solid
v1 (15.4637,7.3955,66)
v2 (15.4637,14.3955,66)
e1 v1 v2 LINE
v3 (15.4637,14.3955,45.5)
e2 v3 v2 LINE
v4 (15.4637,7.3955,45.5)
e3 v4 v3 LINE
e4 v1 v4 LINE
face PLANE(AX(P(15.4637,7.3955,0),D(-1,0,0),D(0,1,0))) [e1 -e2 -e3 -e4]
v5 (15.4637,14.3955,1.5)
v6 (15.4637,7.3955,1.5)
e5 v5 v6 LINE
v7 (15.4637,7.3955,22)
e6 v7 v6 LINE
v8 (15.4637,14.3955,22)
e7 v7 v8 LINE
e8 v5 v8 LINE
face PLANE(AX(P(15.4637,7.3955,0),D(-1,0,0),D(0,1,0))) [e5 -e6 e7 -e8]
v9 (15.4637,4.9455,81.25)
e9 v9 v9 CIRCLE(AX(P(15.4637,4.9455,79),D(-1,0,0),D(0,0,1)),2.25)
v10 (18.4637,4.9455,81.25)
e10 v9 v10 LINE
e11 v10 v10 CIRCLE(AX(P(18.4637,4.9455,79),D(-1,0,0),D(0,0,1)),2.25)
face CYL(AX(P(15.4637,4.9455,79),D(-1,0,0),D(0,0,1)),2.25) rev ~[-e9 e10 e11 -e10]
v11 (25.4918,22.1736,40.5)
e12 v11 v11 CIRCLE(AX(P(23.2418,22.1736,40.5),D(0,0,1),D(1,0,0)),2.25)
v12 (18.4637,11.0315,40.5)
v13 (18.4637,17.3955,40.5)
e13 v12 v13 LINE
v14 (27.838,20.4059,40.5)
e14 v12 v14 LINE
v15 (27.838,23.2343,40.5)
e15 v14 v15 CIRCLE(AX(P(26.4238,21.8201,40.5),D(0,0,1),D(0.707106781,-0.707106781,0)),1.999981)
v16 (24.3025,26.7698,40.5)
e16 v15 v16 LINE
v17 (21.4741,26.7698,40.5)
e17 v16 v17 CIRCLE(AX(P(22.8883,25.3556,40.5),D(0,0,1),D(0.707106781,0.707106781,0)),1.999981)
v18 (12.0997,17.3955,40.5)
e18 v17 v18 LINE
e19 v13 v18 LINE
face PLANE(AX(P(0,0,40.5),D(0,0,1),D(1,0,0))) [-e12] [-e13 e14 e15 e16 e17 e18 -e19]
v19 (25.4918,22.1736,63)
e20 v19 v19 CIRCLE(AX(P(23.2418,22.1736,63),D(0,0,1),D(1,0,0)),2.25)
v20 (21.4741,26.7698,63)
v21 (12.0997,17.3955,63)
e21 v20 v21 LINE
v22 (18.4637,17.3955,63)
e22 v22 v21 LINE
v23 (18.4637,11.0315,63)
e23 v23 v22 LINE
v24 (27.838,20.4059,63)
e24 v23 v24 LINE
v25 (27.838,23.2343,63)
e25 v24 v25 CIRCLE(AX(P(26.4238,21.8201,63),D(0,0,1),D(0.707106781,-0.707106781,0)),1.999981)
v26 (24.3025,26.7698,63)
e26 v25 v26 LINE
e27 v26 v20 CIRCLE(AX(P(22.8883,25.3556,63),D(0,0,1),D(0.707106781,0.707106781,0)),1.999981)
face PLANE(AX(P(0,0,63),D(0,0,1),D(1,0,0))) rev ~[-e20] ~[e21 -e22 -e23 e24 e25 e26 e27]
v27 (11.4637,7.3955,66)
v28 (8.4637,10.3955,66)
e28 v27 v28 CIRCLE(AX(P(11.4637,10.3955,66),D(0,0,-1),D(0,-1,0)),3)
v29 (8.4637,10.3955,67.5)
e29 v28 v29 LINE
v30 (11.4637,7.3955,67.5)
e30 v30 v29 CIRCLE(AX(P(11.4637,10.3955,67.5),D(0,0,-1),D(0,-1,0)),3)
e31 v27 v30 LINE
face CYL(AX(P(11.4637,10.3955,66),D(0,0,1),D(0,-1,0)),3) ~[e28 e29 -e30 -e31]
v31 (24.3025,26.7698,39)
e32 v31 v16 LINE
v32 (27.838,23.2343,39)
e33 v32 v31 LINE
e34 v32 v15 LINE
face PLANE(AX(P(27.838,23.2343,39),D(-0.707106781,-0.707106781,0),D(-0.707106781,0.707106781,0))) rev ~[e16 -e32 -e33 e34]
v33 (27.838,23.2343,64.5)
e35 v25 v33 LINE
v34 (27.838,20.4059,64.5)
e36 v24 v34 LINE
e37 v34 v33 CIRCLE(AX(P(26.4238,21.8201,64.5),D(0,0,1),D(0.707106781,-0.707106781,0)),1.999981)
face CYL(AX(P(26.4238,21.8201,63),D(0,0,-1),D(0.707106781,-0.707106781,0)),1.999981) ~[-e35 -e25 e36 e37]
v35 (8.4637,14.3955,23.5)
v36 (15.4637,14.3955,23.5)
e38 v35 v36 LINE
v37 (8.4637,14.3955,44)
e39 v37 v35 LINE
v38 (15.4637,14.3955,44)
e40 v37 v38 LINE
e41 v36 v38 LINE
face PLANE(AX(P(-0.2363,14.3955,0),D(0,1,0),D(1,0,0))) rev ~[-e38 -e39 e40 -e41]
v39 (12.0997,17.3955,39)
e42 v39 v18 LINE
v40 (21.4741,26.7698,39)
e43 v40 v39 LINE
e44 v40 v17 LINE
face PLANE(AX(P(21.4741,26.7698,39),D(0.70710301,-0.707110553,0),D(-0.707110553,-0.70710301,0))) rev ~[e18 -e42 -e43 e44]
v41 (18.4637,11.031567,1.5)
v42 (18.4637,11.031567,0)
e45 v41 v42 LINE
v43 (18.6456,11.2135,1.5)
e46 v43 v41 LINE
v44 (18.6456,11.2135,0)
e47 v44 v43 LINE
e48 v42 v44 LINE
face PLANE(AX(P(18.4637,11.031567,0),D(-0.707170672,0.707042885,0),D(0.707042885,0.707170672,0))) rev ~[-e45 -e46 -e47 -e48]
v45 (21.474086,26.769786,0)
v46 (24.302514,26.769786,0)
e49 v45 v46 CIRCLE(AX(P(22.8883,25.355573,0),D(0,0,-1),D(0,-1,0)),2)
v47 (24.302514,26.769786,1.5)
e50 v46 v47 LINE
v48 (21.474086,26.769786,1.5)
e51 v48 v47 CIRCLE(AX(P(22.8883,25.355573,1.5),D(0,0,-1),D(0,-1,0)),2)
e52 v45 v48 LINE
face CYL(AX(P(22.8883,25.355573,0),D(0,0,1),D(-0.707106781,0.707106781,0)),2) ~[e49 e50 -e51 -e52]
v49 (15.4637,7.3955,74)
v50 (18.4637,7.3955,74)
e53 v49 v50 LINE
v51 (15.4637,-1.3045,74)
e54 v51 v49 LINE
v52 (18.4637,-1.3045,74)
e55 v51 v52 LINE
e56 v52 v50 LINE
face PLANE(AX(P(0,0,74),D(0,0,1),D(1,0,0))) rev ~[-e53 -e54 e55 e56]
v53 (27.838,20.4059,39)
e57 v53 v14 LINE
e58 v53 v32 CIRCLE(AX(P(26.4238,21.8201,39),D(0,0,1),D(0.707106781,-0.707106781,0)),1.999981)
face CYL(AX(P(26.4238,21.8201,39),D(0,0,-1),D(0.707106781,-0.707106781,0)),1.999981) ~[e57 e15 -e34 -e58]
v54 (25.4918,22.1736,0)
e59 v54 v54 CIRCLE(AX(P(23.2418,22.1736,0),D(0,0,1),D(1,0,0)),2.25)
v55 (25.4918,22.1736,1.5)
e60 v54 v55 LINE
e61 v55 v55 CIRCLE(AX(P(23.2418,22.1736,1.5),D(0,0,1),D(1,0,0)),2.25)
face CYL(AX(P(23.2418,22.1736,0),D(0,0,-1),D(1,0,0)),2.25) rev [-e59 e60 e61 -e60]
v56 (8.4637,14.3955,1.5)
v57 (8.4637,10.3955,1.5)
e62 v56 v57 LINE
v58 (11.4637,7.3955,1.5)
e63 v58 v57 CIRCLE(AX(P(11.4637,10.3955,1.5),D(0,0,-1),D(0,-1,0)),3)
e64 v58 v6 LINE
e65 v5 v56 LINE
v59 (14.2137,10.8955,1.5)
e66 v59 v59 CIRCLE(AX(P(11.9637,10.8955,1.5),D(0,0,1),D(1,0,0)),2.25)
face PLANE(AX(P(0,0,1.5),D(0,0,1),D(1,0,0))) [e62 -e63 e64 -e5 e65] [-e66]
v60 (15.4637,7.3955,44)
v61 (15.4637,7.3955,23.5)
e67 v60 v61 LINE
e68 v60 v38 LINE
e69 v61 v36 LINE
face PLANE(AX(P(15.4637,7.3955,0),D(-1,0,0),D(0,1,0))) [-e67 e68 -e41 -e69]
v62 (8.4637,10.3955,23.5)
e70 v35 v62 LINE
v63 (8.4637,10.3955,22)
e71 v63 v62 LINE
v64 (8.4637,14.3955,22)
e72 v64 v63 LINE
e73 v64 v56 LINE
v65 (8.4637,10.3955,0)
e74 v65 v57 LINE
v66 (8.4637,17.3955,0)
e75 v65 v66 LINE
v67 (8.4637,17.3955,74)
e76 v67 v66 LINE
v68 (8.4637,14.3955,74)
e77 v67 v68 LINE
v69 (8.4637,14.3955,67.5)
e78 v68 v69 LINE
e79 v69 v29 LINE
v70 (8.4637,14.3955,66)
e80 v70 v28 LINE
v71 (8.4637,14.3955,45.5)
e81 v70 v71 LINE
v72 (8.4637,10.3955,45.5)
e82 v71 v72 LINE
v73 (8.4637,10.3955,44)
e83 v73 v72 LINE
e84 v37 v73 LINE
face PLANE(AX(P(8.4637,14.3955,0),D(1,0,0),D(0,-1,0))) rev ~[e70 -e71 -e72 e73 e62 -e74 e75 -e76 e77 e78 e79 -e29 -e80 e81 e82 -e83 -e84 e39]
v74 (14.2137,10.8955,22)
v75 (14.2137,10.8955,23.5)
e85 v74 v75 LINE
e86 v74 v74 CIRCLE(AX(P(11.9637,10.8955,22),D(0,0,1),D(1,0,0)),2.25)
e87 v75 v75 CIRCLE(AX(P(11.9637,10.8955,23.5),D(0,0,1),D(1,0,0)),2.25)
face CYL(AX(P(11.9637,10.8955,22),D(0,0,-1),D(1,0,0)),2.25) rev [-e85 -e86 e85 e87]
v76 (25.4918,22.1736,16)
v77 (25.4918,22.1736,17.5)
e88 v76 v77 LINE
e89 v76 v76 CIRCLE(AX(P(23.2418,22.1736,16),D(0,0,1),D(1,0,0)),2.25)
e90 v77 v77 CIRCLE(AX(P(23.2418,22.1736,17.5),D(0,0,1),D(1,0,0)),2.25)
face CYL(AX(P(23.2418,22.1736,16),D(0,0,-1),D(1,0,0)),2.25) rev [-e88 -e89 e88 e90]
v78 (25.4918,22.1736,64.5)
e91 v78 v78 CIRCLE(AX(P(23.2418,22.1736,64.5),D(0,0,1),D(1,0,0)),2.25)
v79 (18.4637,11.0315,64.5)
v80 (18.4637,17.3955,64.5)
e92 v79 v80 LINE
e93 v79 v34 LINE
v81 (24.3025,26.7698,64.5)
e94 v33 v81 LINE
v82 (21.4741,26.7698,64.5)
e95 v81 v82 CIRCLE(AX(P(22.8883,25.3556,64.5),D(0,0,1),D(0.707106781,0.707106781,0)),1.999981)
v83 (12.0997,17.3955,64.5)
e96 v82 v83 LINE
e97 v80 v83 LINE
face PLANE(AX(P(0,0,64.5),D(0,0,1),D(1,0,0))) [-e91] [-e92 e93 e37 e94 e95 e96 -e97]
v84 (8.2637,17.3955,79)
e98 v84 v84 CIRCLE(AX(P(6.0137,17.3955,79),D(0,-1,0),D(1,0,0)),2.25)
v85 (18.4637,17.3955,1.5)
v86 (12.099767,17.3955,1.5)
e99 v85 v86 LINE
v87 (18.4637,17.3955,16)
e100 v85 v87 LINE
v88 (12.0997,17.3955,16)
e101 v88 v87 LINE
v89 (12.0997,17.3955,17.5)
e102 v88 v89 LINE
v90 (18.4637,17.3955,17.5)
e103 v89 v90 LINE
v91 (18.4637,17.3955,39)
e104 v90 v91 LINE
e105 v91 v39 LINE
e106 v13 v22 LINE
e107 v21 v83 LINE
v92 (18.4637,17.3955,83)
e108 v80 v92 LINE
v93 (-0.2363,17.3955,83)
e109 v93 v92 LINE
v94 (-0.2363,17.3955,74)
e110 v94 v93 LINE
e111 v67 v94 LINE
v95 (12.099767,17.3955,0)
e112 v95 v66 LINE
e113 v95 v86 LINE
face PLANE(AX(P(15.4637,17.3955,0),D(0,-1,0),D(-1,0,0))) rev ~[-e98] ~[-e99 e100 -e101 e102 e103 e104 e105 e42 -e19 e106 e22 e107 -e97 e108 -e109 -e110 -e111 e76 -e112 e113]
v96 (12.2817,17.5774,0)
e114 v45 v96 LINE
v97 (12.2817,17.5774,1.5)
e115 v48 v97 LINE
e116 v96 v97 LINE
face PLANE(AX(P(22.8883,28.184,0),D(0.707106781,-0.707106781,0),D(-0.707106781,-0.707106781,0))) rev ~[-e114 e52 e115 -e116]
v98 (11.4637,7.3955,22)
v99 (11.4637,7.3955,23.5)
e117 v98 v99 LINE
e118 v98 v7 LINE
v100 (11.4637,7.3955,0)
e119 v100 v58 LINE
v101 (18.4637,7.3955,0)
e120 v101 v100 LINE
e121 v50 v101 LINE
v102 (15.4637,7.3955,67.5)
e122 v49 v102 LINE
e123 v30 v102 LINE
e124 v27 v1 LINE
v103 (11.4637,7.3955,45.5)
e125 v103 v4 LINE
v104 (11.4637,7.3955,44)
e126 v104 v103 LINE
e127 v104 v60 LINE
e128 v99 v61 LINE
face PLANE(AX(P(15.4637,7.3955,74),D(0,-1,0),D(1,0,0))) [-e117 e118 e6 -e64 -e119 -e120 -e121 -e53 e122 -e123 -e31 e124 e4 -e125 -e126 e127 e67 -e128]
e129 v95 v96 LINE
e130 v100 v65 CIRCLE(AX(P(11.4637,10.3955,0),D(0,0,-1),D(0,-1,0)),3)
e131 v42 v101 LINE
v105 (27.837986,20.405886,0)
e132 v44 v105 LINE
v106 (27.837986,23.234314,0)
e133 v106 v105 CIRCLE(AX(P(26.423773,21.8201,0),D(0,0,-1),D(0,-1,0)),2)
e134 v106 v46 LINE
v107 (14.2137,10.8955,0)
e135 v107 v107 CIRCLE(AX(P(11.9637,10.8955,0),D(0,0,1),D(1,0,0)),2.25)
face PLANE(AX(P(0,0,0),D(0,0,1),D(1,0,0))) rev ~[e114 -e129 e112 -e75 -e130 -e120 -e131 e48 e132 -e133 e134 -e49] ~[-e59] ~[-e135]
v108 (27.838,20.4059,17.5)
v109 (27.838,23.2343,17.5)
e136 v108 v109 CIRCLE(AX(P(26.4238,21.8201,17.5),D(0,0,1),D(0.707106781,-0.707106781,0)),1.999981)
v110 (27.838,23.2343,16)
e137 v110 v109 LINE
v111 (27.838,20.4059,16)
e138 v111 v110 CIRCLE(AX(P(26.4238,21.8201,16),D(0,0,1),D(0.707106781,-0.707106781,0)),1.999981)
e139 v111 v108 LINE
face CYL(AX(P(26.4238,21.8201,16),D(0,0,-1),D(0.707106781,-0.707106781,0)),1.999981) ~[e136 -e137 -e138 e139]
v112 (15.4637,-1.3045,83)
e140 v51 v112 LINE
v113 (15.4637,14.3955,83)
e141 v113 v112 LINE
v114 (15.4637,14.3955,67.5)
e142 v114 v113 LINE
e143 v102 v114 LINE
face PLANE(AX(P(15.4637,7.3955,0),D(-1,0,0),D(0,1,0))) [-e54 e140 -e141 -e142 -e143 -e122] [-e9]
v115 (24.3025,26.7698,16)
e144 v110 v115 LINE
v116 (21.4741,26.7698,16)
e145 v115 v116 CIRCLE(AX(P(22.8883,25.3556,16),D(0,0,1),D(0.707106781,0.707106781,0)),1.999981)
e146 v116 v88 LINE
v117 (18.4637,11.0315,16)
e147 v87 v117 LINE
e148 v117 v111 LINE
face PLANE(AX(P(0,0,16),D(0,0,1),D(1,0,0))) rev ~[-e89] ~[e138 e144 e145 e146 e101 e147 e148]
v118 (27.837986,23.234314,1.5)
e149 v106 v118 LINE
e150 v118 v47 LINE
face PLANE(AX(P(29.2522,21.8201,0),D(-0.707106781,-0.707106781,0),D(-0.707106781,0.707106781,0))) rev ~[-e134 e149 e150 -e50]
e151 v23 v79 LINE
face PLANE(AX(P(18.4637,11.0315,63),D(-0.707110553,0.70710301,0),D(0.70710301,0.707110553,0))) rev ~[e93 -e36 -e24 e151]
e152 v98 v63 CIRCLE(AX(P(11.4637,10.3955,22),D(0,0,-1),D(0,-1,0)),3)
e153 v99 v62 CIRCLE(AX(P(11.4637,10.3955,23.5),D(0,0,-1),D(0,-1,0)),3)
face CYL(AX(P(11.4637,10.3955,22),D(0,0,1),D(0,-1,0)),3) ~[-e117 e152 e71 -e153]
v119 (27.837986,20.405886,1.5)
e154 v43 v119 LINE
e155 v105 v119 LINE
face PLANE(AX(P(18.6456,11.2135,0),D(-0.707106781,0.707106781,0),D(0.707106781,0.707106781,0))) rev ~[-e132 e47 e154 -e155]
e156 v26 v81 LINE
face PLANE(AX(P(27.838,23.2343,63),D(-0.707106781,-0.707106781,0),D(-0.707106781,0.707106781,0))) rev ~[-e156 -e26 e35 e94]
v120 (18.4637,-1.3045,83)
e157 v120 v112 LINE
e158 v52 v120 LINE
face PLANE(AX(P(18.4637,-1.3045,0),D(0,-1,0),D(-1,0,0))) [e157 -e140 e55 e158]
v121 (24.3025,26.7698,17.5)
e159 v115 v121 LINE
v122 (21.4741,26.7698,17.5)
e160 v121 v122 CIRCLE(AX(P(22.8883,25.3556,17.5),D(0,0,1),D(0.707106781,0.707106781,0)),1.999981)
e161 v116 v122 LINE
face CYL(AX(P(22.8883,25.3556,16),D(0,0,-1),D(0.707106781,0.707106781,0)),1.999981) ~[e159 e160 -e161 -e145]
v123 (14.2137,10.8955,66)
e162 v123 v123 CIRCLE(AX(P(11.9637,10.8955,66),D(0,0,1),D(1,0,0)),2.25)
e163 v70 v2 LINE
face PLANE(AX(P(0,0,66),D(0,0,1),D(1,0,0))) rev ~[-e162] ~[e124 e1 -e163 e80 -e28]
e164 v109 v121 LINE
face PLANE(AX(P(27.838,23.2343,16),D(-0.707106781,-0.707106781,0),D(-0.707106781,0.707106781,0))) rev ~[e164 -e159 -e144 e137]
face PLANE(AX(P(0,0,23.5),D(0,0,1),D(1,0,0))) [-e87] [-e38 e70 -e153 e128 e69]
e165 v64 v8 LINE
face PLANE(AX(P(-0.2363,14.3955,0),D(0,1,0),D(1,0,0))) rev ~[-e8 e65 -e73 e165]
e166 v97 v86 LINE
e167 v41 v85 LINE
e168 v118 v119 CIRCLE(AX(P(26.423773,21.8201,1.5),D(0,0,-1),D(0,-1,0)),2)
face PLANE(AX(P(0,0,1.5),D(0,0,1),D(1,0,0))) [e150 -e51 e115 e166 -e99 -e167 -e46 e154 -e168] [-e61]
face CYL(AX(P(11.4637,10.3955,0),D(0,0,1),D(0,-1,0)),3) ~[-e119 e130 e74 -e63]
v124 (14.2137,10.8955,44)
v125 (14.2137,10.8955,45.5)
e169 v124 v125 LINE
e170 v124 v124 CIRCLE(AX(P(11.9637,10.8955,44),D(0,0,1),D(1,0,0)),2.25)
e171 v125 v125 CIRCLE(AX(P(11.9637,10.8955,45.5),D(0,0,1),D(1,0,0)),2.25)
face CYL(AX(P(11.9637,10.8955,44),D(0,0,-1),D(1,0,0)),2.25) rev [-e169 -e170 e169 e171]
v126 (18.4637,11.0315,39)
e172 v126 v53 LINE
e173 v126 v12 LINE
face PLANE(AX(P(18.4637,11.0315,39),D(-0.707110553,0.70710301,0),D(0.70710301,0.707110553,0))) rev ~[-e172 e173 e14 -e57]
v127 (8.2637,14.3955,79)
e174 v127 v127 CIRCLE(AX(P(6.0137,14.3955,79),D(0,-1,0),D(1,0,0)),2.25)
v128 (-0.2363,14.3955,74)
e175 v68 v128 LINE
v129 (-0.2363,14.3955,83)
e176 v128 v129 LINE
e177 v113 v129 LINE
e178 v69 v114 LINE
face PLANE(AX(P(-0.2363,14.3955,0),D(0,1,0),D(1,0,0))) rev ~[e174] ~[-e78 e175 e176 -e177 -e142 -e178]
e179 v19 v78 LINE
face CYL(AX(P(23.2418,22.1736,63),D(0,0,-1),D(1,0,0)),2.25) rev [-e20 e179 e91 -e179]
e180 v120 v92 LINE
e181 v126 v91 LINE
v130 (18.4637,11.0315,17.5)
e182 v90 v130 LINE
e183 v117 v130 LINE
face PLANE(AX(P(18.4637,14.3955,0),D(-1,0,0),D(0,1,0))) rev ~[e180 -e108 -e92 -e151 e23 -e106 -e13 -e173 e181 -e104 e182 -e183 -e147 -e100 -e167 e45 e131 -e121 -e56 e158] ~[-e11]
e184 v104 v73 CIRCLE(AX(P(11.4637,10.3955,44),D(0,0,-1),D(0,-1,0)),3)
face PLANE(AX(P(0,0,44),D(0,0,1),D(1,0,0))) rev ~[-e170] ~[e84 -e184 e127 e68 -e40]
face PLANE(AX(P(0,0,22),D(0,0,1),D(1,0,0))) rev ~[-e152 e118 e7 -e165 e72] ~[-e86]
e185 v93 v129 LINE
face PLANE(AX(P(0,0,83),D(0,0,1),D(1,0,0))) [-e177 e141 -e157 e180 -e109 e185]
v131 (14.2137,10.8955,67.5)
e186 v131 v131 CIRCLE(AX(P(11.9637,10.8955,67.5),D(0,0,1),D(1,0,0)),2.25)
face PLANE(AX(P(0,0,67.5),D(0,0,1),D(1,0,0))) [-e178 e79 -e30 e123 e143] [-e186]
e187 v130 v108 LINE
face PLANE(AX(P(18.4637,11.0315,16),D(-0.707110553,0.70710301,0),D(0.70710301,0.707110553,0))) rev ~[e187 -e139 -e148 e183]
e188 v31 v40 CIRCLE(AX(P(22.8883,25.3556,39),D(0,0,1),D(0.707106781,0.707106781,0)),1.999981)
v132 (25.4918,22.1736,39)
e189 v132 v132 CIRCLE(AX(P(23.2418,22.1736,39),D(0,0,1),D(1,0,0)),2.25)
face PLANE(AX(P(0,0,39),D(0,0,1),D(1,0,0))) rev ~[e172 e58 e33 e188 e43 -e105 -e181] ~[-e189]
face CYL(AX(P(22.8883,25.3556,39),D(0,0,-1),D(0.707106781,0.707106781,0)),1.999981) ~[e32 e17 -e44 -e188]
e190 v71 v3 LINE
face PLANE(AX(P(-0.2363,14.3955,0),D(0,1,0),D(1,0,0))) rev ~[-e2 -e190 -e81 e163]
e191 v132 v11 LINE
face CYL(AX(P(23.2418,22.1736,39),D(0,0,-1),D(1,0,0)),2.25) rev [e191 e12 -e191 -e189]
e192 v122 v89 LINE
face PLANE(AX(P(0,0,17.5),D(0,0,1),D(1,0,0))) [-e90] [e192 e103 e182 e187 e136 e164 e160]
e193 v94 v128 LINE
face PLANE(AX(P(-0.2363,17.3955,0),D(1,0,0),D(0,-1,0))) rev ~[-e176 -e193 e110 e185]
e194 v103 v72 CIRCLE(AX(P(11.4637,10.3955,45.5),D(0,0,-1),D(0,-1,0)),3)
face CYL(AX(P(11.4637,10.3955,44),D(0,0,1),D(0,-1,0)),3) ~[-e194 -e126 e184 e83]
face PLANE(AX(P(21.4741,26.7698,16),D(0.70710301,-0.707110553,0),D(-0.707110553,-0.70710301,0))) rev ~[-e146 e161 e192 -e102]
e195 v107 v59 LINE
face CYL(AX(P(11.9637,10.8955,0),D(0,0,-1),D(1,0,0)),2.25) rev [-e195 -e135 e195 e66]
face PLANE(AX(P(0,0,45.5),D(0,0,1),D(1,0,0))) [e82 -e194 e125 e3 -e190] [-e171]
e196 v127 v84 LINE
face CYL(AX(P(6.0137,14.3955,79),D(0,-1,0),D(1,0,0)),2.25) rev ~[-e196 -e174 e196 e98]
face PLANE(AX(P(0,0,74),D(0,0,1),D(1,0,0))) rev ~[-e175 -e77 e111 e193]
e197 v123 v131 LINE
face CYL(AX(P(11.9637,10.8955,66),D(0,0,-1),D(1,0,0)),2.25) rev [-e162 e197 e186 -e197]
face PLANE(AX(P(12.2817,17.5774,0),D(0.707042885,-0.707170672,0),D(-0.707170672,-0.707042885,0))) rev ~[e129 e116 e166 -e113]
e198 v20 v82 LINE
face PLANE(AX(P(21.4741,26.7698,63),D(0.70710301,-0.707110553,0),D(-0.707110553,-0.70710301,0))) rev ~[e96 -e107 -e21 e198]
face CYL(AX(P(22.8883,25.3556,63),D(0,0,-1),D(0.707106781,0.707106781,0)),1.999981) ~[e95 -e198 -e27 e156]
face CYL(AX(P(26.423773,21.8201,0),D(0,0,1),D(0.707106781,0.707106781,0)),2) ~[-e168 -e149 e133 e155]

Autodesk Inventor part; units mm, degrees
sketch "Sketch1" plane through (0, 0, 0) normal (0, 0, 1) x (1, 0, 0)
  line L0 (-0.2363, 14.3955) -> (15.4637, 14.3955)
  line L1 (15.4637, 14.3955) -> (15.4637, 17.3955)
  line L2 (15.4637, 17.3955) -> (-0.2363, 17.3955)
  line L3 (-0.2363, 17.3955) -> (-0.2363, 14.3955)
  line L4 (15.4637, 14.3955) -> (18.4637, 14.3955)
  line L5 (18.4637, 14.3955) -> (18.4637, -1.3045)
  line L6 (18.4637, -1.3045) -> (15.4637, -1.3045)
  line L7 (15.4637, -1.3045) -> (15.4637, 14.3955)
  line L8 (15.4637, 14.3955) -> (18.4637, 14.3955)
  line L9 (18.4637, 14.3955) -> (18.4637, 17.3955)
  line L10 (18.4637, 17.3955) -> (15.4637, 17.3955)
  line L11 (15.4637, 17.3955) -> (15.4637, 14.3955)
  circle A0 centre (11.9637, 10.8955) radius 2.25
  line L12 (15.4637, 14.3955) -> (8.4637, 14.3955)
  line L13 (8.4637, 14.3955) -> (8.4637, 7.3955)
  line L14 (8.4637, 7.3955) -> (15.4637, 7.3955)
  line L15 (15.4637, 7.3955) -> (15.4637, 14.3955)
  point P0 (0, 0)
  point P1 (11.9637, 7.3955)
  point P2 (8.4637, 10.8955)
  dimension "d2" = 3
  dimension "d3" = 3
  dimension "d9" = 4.5
  dimension "d46" = 7
  dimension "d47" = 7
  dimension "d48" = 15.7
  dimension "d49" = 15.7
extrude "Extrusion1" add sketch "Sketch1" along normal blind 83 contours L3 L2 L1 L0 | L1 L10 L9 L4 | L4 L5 L6 L7
extrude "Extrusion2" add sketch "Sketch1" along normal blind 1.5 contours L0 L7 L14 L13
fillet "Fillet1" radius 3 1 edges at (8.4637, 7.3955, 0.75)
sketch "Sketch3" plane through (-0.2363, 14.3955, 83) normal (0, -1, 0) x (1, 0, 0)
  line L0 (15.7, 0) -> (15.7, -81.5) projected
  line L1 (0, 0) -> (15.7, 0) projected
  line L2 (0, -83) -> (0, 0) projected
  circle A0 centre (6.25, -4) radius 2.25
  line L3 (18.7, -83) -> (0, -83) projected
  line L4 (0, 0) -> (15.7, 0) projected
  line L5 (18.7, 0) -> (0, 0) projected
  line L6 (12.5, 0) -> (12.5, -83) construction
  line L7 (0, -83) -> (0, 0) projected
  line L8 (12.5, 0) -> (0, 0)
  line L9 (0, -83) -> (8.7, -83) projected
  line L10 (8.7, -81.5) -> (15.7, -81.5) projected
  line L11 (8.7, -83) -> (8.7, -81.5) projected
  point P0 (0.2363, -83)
  point P1 (1.7, -20)
  point P2 (6.25, 0)
  dimension "d12" = 4.5
  dimension "d13" = 4
  dimension "d24" = 12.5
sketch "Sketch4" plane through (15.4637, -1.3045, 83) normal (-1, 0, 0) x (0, 0, 1)
  line L0 (-83, 0) -> (0, 0) projected
  line L1 (0, 15.7) -> (0, 0) projected
  line L2 (0, 15.7) -> (-81.5, 15.7) projected
  circle A0 centre (-4, 6.25) radius 2.25
  line L3 (0, 15.7) -> (0, 0) projected
  line L4 (-83, 0) -> (-83, 18.7) projected
  line L5 (0, 15.7) -> (-81.5, 15.7) projected
  line L6 (0, 12.5) -> (-83, 12.5) construction
  line L7 (0, 12.5) -> (0, 0)
  line L8 (-83, 8.7) -> (-83, 0) projected
  line L9 (-81.5, 15.7) -> (-81.5, 8.7) projected
  line L10 (-81.5, 8.7) -> (-83, 8.7) projected
  point P0 (-83, 1.3045)
  point P1 (-20, 1.7)
  point P2 (0, 6.25)
  point P3 (-83, 15.7)
  dimension "d14" = 4.5
  dimension "d15" = 4
  dimension "d25" = 12.5
extrude "Extrusion4" cut sketch "Sketch3" against normal blind 5 contours A0
extrude "Extrusion5" cut sketch "Sketch4" against normal blind 5 contours A0
sketch "Sketch5" plane through (0, 0, 0) normal (0, 0, 1) x (1, 0, 0)
  line L0 (29.2522, 21.8201) -> (22.8883, 28.184)
  line L1 (22.8883, 28.184) -> (12.2817, 17.5774)
  line L2 (12.2817, 17.5774) -> (18.6456, 11.2135)
  line L3 (18.6456, 11.2135) -> (29.2522, 21.8201)
  line L4 (26.0703, 25.0021) -> (15.4637, 14.3955) construction
  line L5 (23.9489, 16.5168) -> (17.585, 22.8807) construction
  line L6 (15.4637, -1.3045) -> (15.4637, 14.3955) projected
  line L7 (15.4637, 17.3955) -> (-0.2363, 17.3955) projected
  line L8 (18.4637, 14.3955) -> (18.4637, -1.3045) projected
  line L9 (18.4637, 14.3955) -> (18.4637, 17.3955) projected
  line L10 (18.4637, 17.3955) -> (15.4637, 17.3955) projected
  circle A0 centre (23.2418, 22.1736) radius 2.25
  line L11 (18.0923, 10.6601) -> (18.6456, 11.2135)
  line L12 (18.6456, 11.2135) -> (12.2817, 17.5774)
  line L13 (12.2817, 17.5774) -> (11.7283, 17.0241)
  line L14 (11.7283, 17.0241) -> (18.0923, 10.6601)
  point P0 (0, 0)
  dimension "d29" = 9
  dimension "d30" = 4.5
  dimension "d31" = 4
  dimension "d32" = 15
  dimension "d56" = 9
extrude "Extrusion6" add sketch "Sketch5" along normal blind 1.5
fillet "Fillet2" radius 2 2 edges at (22.8883, 28.184, 0.75) (29.2522, 21.8201, 0.75)
ref_plane "Work Plane2" through (0, 0, 74) normal (0, 0, 1) x (1, 0, 0)
sketch "Sketch6" plane through (0, 0, 74) normal (0, 0, 1) x (1, 0, 0)
  line L0 (18.4637, -1.3045) -> (18.4637, 17.3955)
  line L1 (18.4637, 17.3955) -> (-0.2363, 17.3955)
  line L2 (-0.2363, 17.3955) -> (-0.2363, 14.3955)
  line L3 (15.4637, -1.3045) -> (18.4637, -1.3045)
  line L4 (-0.2363, 17.3955) -> (-0.2363, 14.3955) projected
  line L5 (-0.2363, 17.3955) -> (8.4637, 17.3955)
  line L6 (8.4637, 17.3955) -> (8.4637, 14.3955)
  line L7 (8.4637, 14.3955) -> (-0.2363, 14.3955)
  line L8 (-0.2363, 14.3955) -> (-0.2363, 17.3955)
  line L9 (18.4637, -1.3045) -> (15.4637, -1.3045)
  line L10 (15.4637, -1.3045) -> (15.4637, 7.3955)
  line L11 (15.4637, 7.3955) -> (18.4637, 7.3955)
  line L12 (18.4637, 7.3955) -> (18.4637, -1.3045)
  point P0 (0, 0)
  dimension "d45" = 8.7
  dimension "d50" = 7
  dimension "d51" = 7
extrude "Extrusion7" cut sketch "Sketch6" against normal blind 74
ref_plane "Work Plane3" through (0, 0, 43) normal (0, 0, 1) x (1, 0, 0)
ref_plane "Work Plane5" through (0, 0, 39) normal (0, 0, 1) x (1, 0, 0)
sketch "Sketch9" plane through (0, 0, 39) normal (0, 0, 1) x (1, 0, 0)
  line L0 (18.4637, 7.3955) -> (11.4637, 7.3955) projected
  arc A0 (8.4637, 10.3955) -> (11.4637, 7.3955) centre (11.4637, 10.3955) ccw projected
  line L1 (8.4637, 10.3955) -> (8.4637, 17.3955) projected
  line L2 (12.0997, 17.3955) -> (8.4637, 17.3955) projected
  line L3 (21.4741, 26.7698) -> (12.0997, 17.3955) projected
  arc A1 (24.3025, 26.7698) -> (21.4741, 26.7698) centre (22.8883, 25.3556) ccw projected
  line L4 (27.838, 23.2343) -> (24.3025, 26.7698) projected
  arc A2 (27.838, 20.4059) -> (27.838, 23.2343) centre (26.4238, 21.8201) ccw projected
  line L5 (18.4637, 11.0315) -> (27.838, 20.4059) projected
  line L6 (18.4637, 7.3955) -> (18.4637, 11.0315) projected
  circle A3 centre (23.2418, 22.1736) radius 2.25 projected
  circle A4 centre (11.9637, 10.8955) radius 2.25 projected
  line L7 (12.0997, 17.3955) -> (16.4707, 15.4026)
  line L8 (16.4707, 15.4026) -> (18.4637, 11.0315)
  point P0 (0, 0)
extrude "Extrusion9" add sketch "Sketch9" along normal blind 1.5 contours L8 L7 L3 A1 L4 A2 L5
ref_plane "Work Plane6" through (0, 0, 16) normal (0, 0, 1) x (1, 0, 0)
sketch "Sketch10" plane through (0, 0, 16) normal (0, 0, 1) x (1, 0, 0)
  line L0 (18.4637, 7.3955) -> (11.4637, 7.3955) projected
  arc A0 (8.4637, 10.3955) -> (11.4637, 7.3955) centre (11.4637, 10.3955) ccw projected
  line L1 (8.4637, 10.3955) -> (8.4637, 17.3955) projected
  line L2 (12.0997, 17.3955) -> (8.4637, 17.3955) projected
  line L3 (21.4741, 26.7698) -> (12.0997, 17.3955) projected
  arc A1 (24.3025, 26.7698) -> (21.4741, 26.7698) centre (22.8883, 25.3556) ccw projected
  line L4 (27.838, 23.2343) -> (24.3025, 26.7698) projected
  arc A2 (27.838, 20.4059) -> (27.838, 23.2343) centre (26.4238, 21.8201) ccw projected
  line L5 (18.4637, 11.0315) -> (27.838, 20.4059) projected
  line L6 (18.4637, 7.3955) -> (18.4637, 11.0315) projected
  circle A3 centre (23.2418, 22.1736) radius 2.25 projected
  circle A4 centre (11.9637, 10.8955) radius 2.25 projected
  line L7 (12.0997, 17.3955) -> (18.4637, 17.3955) projected
  line L8 (12.0997, 17.3955) -> (16.7869, 15.7187)
  line L9 (18.4637, 17.3955) -> (18.4637, 11.0315) projected
  line L10 (16.7869, 15.7187) -> (18.4637, 11.0315)
  point P0 (0, 0)
extrude "Extrusion10" add sketch "Sketch10" along normal blind 1.5 contours L9 L7 L3 A1 L4 A2 L5
pattern_linear "Rectangular Pattern2" count 4 spacing 22 along (0, 0, 1) of "Extrusion2", "Fillet1"
ref_plane "Work Plane7" through (0, 0, 63) normal (0, 0, 1) x (1, 0, 0)
sketch "Sketch11" plane through (0, 0, 63) normal (0, 0, 1) x (1, 0, 0)
  arc A0 (27.838, 20.4059) -> (27.838, 23.2343) centre (26.4238, 21.8201) ccw projected
  line L0 (18.4637, 7.3955) -> (11.4637, 7.3955) projected
  arc A1 (8.4637, 10.3955) -> (11.4637, 7.3955) centre (11.4637, 10.3955) ccw projected
  line L1 (8.4637, 10.3955) -> (8.4637, 17.3955) projected
  line L2 (12.0997, 17.3955) -> (8.4637, 17.3955) projected
  line L3 (21.4741, 26.7698) -> (12.0997, 17.3955) projected
  arc A2 (24.3025, 26.7698) -> (21.4741, 26.7698) centre (22.8883, 25.3556) ccw projected
  line L4 (27.838, 23.2343) -> (24.3025, 26.7698) projected
  arc A3 (27.838, 20.4059) -> (27.838, 23.2343) centre (26.4238, 21.8201) ccw projected
  line L5 (18.4637, 11.0315) -> (27.838, 20.4059) projected
  line L6 (18.4637, 7.3955) -> (18.4637, 11.0315) projected
  circle A4 centre (23.2418, 22.1736) radius 2.25 projected
  circle A5 centre (11.9637, 10.8955) radius 2.25 projected
  line L7 (18.4637, 11.0315) -> (16.7869, 15.7187)
  line L8 (16.7869, 15.7187) -> (12.0997, 17.3955)
  point P0 (0, 0)
extrude "Extrusion11" add sketch "Sketch11" along normal blind 1.5 contours L5 L7 L8 L3 A2 L4 A0
properties part number "VerticalConnector"
